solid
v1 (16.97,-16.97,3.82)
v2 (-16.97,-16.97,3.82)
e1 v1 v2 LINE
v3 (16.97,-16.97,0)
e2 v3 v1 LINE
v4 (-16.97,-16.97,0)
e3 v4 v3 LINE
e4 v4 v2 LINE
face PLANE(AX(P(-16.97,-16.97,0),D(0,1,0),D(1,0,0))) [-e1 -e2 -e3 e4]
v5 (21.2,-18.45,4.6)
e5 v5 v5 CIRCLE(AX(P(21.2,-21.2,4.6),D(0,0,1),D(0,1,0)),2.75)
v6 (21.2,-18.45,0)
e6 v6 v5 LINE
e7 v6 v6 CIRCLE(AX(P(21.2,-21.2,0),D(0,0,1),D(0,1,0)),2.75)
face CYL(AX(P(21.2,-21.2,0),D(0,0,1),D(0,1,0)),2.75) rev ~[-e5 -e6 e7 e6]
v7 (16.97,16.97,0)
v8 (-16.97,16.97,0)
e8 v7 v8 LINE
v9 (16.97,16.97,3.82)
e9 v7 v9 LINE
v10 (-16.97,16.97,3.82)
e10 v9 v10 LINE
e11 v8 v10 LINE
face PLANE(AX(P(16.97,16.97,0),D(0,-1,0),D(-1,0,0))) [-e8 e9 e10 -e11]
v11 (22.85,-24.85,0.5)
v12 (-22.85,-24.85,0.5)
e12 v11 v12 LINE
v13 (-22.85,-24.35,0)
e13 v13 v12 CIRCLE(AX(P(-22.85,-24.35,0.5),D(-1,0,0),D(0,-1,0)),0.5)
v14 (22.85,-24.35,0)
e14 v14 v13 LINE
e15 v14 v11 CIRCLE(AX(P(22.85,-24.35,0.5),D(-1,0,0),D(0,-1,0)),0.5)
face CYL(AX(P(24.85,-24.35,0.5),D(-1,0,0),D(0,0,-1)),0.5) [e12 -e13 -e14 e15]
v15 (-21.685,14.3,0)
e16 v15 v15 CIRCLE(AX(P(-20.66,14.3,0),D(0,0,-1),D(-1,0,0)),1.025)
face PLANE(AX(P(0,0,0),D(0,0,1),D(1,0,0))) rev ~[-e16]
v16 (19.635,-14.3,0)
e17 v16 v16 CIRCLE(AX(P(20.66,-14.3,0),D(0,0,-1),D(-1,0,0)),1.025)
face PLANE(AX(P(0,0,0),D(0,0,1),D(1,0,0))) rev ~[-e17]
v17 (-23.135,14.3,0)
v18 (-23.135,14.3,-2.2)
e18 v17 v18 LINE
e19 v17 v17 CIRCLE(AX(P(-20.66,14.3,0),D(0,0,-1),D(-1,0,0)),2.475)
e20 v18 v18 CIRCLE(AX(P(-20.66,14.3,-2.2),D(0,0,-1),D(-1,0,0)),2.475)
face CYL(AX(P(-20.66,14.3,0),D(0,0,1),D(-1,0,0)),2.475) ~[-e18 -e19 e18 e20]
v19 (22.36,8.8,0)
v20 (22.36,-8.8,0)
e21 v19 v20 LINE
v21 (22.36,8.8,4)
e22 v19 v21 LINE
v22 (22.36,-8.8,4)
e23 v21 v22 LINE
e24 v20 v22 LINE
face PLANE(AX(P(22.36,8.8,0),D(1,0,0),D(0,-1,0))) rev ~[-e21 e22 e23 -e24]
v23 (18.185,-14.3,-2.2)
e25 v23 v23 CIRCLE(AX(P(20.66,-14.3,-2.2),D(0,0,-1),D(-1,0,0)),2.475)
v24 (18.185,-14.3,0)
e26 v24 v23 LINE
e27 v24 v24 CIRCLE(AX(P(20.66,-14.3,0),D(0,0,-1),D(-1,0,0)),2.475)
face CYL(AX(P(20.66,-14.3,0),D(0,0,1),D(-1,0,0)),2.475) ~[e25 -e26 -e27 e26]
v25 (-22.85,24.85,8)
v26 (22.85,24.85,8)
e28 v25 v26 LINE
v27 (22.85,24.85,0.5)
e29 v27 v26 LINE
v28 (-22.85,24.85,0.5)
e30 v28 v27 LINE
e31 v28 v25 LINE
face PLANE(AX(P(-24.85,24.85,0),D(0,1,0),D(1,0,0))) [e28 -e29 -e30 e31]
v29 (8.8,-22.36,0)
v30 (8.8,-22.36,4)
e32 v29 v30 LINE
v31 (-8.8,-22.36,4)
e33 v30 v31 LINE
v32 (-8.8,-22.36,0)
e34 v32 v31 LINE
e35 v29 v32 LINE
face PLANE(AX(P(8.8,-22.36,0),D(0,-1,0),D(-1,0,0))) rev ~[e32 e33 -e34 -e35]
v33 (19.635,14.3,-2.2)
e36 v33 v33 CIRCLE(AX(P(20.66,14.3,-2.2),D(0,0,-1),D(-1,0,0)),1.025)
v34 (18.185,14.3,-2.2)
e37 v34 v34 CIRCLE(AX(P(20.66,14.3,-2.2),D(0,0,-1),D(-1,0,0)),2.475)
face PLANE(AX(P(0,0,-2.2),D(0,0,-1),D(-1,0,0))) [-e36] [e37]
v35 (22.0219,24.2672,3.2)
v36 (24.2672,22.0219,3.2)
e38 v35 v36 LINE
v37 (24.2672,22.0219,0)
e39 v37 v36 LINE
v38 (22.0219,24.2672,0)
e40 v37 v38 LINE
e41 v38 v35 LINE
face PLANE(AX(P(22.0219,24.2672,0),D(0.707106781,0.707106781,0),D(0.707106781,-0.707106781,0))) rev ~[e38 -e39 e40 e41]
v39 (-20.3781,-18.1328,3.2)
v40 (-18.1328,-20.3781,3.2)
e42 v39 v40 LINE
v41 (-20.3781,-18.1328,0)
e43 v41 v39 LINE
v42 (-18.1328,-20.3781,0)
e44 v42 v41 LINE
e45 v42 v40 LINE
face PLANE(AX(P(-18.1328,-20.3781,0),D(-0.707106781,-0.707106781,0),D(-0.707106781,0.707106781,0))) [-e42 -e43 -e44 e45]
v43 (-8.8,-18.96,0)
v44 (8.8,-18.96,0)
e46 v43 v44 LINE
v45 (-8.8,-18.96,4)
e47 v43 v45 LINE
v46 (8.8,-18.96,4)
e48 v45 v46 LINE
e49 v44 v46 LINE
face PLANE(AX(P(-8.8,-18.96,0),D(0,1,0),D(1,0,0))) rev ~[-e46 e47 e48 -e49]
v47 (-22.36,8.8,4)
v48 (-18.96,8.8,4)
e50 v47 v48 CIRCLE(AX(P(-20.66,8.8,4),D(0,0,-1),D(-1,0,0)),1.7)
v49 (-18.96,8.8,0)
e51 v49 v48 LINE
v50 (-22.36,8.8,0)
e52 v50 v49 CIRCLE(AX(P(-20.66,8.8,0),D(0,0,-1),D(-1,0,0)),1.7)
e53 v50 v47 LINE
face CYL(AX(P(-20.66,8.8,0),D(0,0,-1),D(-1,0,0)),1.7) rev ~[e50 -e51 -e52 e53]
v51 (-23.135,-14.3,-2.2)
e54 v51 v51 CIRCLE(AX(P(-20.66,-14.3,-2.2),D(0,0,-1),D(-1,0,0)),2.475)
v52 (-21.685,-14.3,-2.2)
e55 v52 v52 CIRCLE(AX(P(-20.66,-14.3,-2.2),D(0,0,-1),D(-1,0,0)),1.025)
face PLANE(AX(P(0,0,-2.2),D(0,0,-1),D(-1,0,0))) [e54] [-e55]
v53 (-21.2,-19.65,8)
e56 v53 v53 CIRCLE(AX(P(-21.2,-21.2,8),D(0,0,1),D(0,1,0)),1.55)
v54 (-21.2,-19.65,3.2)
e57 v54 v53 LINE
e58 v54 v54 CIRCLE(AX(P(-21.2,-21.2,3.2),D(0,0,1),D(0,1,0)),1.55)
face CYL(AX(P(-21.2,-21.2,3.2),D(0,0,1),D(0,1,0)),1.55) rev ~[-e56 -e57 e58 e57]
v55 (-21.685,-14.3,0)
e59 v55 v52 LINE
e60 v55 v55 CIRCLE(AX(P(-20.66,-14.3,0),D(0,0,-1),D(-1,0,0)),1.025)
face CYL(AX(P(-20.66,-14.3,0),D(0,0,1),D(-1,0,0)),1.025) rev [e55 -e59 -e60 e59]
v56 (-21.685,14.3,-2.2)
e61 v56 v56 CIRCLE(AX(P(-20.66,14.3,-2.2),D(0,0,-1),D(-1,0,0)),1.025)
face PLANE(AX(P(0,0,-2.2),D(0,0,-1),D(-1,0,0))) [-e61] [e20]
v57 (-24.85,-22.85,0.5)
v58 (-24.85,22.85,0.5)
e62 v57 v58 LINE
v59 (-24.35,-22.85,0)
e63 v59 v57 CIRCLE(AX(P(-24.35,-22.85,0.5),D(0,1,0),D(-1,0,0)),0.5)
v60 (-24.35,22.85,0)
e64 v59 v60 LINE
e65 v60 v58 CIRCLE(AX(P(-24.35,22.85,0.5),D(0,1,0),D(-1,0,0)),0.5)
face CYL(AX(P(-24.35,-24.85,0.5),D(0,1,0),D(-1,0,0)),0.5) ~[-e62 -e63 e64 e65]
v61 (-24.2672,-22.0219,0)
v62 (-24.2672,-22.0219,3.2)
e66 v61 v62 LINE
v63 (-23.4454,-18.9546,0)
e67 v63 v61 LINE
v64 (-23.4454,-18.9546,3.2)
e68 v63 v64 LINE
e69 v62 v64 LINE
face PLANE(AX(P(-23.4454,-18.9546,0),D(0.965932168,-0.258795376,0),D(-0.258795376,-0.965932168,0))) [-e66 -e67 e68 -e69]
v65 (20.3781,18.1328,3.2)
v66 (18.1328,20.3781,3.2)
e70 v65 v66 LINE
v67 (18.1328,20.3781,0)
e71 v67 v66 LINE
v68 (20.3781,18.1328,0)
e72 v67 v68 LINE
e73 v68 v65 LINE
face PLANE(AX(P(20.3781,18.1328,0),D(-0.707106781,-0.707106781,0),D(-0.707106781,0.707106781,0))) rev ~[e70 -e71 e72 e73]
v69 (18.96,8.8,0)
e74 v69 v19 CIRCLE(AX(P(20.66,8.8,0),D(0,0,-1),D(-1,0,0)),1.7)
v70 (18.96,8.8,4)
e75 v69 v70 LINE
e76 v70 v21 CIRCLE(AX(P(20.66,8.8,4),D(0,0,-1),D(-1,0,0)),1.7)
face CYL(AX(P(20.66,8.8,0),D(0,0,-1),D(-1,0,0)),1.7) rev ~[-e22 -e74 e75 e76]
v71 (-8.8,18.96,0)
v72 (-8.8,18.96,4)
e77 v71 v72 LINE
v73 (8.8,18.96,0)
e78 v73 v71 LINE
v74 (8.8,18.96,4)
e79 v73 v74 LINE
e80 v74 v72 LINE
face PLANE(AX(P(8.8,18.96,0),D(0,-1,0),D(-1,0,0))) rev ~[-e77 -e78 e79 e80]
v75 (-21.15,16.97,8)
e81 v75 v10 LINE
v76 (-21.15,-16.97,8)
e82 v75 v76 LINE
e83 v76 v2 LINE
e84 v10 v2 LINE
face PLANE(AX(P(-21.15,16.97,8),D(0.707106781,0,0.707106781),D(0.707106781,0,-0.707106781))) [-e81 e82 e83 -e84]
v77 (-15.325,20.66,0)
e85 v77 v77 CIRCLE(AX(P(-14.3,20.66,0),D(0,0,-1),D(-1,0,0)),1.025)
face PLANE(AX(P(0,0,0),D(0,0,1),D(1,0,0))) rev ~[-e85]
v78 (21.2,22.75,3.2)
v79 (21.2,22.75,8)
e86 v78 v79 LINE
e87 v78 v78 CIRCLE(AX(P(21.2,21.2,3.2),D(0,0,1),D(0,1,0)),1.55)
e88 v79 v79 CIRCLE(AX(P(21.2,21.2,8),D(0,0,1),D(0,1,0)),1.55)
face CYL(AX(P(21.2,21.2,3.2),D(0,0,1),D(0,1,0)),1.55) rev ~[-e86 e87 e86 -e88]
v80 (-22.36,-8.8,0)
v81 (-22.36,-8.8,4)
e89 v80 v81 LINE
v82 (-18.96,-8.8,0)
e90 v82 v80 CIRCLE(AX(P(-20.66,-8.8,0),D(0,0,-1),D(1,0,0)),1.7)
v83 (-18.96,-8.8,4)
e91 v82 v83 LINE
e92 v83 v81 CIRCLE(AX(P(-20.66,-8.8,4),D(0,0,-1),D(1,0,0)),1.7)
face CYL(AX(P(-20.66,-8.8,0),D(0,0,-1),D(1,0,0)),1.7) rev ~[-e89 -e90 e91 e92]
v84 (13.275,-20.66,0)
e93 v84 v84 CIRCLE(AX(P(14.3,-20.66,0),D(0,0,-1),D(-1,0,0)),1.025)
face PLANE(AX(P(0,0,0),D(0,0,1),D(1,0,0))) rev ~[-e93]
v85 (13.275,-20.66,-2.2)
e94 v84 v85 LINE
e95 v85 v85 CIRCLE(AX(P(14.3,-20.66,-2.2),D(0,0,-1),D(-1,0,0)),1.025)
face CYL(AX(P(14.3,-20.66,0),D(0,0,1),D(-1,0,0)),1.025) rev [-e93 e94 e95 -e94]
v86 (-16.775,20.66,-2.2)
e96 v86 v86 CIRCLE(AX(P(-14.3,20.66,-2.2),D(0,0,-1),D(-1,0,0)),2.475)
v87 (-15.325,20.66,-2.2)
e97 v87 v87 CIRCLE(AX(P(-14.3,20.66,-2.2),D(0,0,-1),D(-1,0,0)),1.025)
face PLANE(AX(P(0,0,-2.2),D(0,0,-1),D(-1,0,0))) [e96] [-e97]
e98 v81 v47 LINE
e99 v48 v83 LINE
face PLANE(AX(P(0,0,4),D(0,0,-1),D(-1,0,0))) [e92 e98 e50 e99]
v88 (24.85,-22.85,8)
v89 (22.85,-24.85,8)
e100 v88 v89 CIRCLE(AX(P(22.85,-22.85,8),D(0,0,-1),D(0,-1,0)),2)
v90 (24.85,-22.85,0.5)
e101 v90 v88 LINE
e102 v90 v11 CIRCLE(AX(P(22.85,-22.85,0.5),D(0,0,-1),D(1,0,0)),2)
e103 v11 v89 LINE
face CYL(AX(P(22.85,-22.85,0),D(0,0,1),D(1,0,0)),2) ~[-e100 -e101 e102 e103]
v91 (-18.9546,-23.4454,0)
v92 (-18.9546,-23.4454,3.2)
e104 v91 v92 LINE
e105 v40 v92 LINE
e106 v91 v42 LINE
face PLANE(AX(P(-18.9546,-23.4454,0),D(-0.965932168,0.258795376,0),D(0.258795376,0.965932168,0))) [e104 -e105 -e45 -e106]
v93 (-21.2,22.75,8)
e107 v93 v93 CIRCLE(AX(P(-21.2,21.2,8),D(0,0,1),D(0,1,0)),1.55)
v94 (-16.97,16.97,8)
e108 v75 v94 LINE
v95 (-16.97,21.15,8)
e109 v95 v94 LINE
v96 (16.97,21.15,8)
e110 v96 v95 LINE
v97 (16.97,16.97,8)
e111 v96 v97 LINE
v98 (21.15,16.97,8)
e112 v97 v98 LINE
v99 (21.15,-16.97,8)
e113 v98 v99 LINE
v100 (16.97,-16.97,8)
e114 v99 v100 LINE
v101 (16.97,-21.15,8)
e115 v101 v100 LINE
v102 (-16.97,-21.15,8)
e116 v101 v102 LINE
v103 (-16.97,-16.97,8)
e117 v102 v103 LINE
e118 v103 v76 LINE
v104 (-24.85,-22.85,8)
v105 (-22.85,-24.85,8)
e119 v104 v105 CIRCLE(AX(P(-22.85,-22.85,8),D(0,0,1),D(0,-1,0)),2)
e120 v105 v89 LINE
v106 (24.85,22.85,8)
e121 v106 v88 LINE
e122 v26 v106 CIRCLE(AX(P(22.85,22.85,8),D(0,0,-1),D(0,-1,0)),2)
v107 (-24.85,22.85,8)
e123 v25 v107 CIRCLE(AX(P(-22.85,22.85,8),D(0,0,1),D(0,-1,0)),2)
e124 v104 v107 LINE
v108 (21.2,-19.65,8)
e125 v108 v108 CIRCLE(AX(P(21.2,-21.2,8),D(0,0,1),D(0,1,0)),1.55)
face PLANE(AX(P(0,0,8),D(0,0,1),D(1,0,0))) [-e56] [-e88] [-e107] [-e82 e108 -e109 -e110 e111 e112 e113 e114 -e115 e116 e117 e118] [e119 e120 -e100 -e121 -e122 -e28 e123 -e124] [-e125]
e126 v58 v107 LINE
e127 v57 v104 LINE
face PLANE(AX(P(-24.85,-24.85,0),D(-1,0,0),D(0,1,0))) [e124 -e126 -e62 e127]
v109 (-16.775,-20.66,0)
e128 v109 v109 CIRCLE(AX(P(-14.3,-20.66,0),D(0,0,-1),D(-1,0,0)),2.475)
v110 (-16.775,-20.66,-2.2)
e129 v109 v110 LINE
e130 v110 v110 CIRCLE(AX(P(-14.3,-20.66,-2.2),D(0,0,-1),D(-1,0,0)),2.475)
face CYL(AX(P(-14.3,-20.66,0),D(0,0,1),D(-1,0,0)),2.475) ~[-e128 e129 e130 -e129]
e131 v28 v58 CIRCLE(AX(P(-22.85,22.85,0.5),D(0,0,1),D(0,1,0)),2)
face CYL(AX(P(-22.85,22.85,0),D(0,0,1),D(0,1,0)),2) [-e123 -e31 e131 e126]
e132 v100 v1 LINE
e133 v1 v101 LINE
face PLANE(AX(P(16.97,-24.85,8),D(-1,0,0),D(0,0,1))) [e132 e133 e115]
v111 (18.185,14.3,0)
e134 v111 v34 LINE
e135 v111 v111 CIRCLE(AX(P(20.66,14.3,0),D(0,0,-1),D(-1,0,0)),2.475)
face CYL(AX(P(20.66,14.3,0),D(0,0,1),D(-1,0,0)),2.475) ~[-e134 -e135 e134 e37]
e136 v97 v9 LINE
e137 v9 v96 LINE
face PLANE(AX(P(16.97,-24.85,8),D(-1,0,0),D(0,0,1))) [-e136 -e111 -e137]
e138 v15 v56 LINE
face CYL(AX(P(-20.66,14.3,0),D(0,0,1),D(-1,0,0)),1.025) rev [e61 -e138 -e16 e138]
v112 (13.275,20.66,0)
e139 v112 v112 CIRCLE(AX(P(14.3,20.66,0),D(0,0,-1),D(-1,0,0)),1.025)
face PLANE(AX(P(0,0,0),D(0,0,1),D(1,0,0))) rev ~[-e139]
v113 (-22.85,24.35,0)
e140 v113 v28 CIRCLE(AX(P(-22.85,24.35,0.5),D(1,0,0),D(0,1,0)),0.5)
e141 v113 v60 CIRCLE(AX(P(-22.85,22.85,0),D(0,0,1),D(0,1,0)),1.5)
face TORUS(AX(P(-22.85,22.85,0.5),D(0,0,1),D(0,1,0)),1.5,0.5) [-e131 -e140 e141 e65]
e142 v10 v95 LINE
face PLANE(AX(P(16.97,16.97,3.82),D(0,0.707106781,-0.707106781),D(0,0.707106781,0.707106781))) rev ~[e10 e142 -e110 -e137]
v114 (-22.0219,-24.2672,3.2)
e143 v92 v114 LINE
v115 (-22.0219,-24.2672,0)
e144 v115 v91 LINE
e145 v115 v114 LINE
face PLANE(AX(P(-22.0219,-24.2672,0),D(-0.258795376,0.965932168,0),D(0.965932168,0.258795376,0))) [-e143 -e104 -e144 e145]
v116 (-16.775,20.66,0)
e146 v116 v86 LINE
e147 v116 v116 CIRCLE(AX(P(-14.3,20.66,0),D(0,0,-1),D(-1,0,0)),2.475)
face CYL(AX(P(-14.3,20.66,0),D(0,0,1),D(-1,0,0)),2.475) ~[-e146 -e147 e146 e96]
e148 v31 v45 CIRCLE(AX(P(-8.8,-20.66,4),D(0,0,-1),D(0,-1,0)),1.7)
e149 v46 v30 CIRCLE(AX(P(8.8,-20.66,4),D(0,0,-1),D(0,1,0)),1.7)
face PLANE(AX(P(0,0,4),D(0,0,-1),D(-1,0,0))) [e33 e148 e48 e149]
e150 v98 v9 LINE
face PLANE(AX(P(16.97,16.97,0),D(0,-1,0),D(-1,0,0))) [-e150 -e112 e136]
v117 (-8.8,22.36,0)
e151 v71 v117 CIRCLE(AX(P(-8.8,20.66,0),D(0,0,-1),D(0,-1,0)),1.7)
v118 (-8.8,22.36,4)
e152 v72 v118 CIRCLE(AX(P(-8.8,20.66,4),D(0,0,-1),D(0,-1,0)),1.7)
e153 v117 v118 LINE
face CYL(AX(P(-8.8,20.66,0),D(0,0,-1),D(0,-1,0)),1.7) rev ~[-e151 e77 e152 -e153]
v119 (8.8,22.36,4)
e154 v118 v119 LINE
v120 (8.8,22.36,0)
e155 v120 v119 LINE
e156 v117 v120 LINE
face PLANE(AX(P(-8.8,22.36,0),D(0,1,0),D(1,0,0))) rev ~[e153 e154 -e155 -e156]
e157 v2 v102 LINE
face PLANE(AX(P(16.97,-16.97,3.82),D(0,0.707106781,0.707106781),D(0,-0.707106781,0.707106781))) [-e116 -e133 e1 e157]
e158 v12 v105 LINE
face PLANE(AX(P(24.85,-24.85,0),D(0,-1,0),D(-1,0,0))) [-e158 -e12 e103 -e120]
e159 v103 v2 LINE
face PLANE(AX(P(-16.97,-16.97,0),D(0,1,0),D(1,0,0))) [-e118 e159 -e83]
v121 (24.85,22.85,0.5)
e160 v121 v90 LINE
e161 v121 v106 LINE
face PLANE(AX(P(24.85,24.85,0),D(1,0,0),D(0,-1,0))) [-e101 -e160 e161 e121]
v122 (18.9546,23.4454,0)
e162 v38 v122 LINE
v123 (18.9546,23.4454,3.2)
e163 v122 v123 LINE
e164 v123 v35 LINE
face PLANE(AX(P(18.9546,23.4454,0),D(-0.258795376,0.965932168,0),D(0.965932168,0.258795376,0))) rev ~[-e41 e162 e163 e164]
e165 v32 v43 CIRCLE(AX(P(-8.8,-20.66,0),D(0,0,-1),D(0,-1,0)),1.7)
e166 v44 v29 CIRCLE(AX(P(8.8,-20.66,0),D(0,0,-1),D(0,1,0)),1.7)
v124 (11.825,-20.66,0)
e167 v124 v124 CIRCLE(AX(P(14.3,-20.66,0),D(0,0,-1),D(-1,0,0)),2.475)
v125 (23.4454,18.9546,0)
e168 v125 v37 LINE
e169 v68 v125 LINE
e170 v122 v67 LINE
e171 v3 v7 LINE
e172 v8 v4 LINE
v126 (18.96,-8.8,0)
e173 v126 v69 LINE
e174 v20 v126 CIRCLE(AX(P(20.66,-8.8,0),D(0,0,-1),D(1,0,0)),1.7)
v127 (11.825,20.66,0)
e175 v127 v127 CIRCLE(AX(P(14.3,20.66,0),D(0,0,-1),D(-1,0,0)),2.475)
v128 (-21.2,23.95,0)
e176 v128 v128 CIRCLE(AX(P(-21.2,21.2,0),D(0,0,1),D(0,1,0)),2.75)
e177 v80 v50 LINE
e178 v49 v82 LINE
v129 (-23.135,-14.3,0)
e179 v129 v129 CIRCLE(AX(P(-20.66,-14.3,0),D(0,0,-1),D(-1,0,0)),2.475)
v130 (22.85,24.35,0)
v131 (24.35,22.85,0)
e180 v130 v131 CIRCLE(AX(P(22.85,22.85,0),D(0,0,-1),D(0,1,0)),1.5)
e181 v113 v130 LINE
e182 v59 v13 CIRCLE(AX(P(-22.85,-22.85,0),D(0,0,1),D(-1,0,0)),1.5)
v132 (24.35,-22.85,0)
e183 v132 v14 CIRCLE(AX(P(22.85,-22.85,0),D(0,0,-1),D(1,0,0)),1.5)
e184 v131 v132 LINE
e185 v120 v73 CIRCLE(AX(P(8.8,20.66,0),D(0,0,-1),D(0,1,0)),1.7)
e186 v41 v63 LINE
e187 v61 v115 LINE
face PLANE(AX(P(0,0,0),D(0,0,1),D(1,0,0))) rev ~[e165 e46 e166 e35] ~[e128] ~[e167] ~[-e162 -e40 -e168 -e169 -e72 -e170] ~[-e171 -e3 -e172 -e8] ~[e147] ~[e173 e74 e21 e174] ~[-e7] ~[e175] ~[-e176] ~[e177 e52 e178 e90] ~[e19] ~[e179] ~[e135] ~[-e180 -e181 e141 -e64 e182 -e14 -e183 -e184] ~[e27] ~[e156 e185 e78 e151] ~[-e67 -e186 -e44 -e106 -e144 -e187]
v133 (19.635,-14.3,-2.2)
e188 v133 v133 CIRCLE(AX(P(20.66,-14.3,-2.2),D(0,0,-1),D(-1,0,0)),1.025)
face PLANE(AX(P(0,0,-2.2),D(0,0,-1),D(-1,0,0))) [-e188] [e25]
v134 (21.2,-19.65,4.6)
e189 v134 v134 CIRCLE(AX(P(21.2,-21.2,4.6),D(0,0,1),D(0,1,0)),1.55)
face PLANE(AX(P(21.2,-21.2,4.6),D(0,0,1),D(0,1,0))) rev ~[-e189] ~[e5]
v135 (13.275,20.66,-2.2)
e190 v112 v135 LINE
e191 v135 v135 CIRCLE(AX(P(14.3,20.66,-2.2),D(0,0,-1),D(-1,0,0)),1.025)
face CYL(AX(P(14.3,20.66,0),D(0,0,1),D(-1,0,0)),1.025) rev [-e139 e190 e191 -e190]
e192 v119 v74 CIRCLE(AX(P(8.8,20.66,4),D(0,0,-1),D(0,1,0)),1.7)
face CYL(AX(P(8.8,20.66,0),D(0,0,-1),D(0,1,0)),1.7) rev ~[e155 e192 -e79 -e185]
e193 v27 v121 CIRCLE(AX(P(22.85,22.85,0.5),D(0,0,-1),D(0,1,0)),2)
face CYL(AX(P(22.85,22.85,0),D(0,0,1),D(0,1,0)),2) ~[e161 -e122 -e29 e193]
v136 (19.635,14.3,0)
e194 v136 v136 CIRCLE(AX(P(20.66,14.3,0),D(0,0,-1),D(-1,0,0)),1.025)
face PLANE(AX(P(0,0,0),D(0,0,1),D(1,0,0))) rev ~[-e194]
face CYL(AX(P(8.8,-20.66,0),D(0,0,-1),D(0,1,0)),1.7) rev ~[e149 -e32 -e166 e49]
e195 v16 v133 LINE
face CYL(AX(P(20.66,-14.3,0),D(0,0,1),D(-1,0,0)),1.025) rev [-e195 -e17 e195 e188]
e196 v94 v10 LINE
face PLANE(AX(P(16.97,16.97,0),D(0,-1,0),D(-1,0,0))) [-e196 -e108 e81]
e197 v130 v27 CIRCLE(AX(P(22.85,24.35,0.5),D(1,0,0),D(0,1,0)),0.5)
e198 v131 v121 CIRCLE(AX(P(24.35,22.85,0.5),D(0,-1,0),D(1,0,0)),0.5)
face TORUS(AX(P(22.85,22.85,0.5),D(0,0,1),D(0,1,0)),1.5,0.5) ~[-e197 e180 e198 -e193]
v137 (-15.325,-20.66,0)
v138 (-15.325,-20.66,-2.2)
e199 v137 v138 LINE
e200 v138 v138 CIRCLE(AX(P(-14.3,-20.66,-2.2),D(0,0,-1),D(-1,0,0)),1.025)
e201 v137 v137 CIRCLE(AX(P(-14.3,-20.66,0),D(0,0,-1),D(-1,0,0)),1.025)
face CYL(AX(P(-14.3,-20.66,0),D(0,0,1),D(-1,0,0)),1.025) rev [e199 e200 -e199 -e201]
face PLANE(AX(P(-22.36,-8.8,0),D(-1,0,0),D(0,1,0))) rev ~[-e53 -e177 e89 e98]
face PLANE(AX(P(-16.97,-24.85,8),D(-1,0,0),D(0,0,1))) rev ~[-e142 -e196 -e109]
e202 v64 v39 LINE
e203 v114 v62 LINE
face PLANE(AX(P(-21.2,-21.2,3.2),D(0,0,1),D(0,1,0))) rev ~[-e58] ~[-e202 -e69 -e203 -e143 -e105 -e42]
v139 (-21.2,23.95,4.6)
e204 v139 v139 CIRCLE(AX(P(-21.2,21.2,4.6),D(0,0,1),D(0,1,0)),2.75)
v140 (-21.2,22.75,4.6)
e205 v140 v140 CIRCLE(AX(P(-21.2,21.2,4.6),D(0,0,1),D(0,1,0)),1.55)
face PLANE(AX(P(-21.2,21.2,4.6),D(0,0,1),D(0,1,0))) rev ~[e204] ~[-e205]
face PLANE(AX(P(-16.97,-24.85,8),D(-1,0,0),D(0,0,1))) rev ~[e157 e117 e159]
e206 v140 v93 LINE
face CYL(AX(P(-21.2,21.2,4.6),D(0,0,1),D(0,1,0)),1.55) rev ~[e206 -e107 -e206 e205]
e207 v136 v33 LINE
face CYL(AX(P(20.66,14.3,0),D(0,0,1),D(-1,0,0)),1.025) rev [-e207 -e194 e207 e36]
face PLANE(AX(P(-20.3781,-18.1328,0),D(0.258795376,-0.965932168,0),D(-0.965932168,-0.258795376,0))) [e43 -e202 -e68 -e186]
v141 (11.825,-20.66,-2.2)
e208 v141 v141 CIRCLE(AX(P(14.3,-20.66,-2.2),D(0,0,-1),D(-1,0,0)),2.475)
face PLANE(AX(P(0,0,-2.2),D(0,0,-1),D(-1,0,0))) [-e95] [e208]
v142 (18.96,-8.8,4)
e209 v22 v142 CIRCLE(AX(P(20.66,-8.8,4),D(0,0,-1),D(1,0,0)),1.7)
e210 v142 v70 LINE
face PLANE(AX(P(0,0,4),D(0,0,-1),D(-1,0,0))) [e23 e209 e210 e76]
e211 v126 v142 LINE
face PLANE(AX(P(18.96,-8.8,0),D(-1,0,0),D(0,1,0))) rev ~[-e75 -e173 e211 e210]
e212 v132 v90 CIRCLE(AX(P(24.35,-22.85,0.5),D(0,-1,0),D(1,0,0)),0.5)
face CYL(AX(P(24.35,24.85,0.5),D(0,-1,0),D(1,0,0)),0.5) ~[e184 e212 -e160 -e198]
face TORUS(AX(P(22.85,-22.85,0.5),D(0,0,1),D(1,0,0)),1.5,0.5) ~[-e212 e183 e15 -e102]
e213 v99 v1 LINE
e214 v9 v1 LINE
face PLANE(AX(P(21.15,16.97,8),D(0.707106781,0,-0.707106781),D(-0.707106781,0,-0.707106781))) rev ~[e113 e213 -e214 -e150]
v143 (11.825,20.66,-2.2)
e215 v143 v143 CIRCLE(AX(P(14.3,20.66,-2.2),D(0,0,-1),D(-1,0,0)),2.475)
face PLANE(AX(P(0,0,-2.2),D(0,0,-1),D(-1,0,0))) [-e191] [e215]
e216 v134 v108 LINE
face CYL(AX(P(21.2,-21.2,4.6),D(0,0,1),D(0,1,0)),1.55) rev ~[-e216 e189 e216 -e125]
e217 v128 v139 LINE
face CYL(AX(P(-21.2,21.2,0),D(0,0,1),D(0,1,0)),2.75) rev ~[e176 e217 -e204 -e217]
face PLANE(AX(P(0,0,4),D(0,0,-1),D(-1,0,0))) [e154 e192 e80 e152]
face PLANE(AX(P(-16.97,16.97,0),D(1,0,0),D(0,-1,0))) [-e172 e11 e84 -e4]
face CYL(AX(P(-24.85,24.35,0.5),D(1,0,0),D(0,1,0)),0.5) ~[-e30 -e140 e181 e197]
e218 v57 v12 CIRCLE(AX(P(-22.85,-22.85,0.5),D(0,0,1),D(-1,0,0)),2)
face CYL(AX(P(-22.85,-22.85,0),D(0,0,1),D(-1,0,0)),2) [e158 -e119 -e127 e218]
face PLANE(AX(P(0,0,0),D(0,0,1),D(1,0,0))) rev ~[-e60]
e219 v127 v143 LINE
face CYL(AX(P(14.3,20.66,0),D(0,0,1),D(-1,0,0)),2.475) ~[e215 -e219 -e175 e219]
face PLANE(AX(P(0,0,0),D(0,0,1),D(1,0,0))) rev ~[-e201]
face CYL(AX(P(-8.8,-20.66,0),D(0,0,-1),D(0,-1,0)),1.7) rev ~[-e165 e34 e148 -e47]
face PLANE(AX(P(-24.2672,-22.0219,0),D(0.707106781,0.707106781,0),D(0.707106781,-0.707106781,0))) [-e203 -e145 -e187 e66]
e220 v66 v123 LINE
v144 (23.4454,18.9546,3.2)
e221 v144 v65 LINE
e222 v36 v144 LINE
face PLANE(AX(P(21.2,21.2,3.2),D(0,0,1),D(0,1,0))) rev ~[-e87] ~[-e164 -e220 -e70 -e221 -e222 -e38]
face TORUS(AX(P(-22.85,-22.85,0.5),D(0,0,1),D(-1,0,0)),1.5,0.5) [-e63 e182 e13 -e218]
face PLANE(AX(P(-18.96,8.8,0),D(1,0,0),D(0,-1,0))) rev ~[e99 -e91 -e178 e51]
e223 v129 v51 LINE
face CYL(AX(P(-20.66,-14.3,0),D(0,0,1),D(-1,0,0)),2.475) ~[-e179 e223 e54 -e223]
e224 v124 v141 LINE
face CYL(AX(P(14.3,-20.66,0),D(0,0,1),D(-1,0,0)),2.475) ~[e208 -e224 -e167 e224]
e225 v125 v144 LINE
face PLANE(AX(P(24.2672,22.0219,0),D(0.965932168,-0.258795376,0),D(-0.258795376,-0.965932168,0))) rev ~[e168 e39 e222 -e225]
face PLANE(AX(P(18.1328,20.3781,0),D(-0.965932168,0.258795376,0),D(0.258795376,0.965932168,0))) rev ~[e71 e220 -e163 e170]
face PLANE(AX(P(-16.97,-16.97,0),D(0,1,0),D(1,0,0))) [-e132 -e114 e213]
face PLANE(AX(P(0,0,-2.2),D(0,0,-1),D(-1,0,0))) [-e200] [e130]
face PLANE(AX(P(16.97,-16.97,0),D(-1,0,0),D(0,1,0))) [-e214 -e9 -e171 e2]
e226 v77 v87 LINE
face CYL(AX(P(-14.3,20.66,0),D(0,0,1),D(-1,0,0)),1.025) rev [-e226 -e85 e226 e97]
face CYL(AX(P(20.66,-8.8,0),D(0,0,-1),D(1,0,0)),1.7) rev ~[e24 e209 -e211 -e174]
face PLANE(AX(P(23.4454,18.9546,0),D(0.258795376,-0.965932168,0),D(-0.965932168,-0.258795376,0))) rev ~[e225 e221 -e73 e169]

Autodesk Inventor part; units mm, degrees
sketch "Sketch1" plane through (0, 0, 0) normal (0, 0, 1) x (1, 0, 0)
  line L0 (-24.85, 24.85) -> (24.85, 24.85)
  line L1 (24.85, 24.85) -> (24.85, -24.85)
  line L2 (24.85, -24.85) -> (-24.85, -24.85)
  line L3 (-24.85, -24.85) -> (-24.85, 24.85)
  line L4 (-24.85, 24.85) -> (24.85, -24.85) construction
  line L5 (24.85, 24.85) -> (-24.85, -24.85) construction
  line L6 (16.97, 16.97) -> (-16.97, 16.97)
  line L7 (-16.97, 16.97) -> (-16.97, -16.97)
  line L8 (-16.97, -16.97) -> (16.97, -16.97)
  line L9 (16.97, -16.97) -> (16.97, 16.97)
  point P0 (0, 0)
  dimension "d0" = 49.7
  dimension "d1" = 49.7
  dimension "d2" = 7.88
extrude "Extrusion1" add sketch "Sketch1" along normal blind 8
sketch "Sketch3" plane through (0, 0, 0) normal (0, 0, -1) x (-1, 0, 0)
  line L0 (24.85, -24.85) -> (24.85, 24.85) construction
  line L1 (24.85, 24.85) -> (-24.85, 24.85) construction
  line L2 (-24.85, -24.85) -> (24.85, -24.85) construction
  line L3 (-24.85, 24.85) -> (-24.85, -24.85) construction
  point P0 (21.2, 21.2)
  point P1 (21.2, -21.2)
  point P2 (-21.2, -21.2)
  point P3 (-21.2, 21.2)
  dimension "d_1" = 3.65
  dimension "d96" = 3.65
  dimension "d97" = 3.65
  dimension "d98" = 3.65
  dimension "d99" = 3.65
  dimension "d100" = 3.65
  dimension "d101" = 3.65
  dimension "d102" = 3.65
hole "Hole1" at (-21.2, 21.2, 0) at (21.2, -21.2, 0) direction (0, 0, 1) diameter 3.1 depth 16 tip angle 118 counterbore diameter 5.5 counterbore depth 4.6
sketch "Sketch4" plane through (-24.85, 24.85, 0) normal (0, 1, 0) x (1, 0, 0)
  line L0 (0, 0) -> (49.7, 0) construction
  line L1 (0, 0) -> (0, -8) construction
  line L2 (49.7, -8) -> (0, -8) construction
  line L3 (49.7, 0) -> (49.7, -8) construction
  circle A0 centre (24.85, -24.97) radius 16.97 construction
  point P0 (24.85, 0)
sketch "Sketch5" plane through (0, 0, 0) normal (0, 0, -1) x (-1, 0, 0)
  line L0 (-16.97, -16.97) -> (-16.97, 16.97) construction
  line L1 (-16.97, 16.97) -> (16.97, 16.97) construction
  line L2 (16.97, 16.97) -> (16.97, -16.97) construction
  line L3 (16.97, -16.97) -> (-16.97, -16.97) construction
  circle A0 centre (0, 0) radius 16.97 construction
  point P0 (0, 0)
fillet "Fillet1" [suppressed]
ref_plane "Arbeitsebene9" through (0, 0, 42.1) normal (0, 0, 1) x (1, 0, 0)
sketch "Sketch6" plane through (0, 0, 42.1) normal (0, 0, 1) x (1, 0, 0)
  line L0 (-24.85, 24.85) -> (-24.85, 16.97) projected
  line L1 (-24.85, 16.97) -> (-16.97, 16.97) projected
  line L2 (-16.97, 16.97) -> (-16.97, 24.85) projected
  line L3 (-16.97, 24.85) -> (-24.85, 24.85) projected
  line L4 (24.85, 24.85) -> (16.97, 24.85) projected
  line L5 (16.97, 24.85) -> (16.97, 16.97) projected
  line L6 (16.97, 16.97) -> (24.85, 16.97) projected
  line L7 (24.85, 16.97) -> (24.85, 24.85) projected
  line L8 (24.85, -24.85) -> (24.85, -16.97) projected
  line L9 (24.85, -16.97) -> (16.97, -16.97) projected
  line L10 (16.97, -16.97) -> (16.97, -24.85) projected
  line L11 (16.97, -24.85) -> (24.85, -24.85) projected
  line L12 (-24.85, -24.85) -> (-16.97, -24.85) projected
  line L13 (-16.97, -24.85) -> (-16.97, -16.97) projected
  line L14 (-16.97, -16.97) -> (-24.85, -16.97) projected
  line L15 (-24.85, -16.97) -> (-24.85, -24.85) projected
  line L16 (0, 38.1838) -> (54, 38.1838) construction
  line L17 (20.75, 16.97) -> (16.97, 20.75)
  line L18 (16.97, 24.85) -> (16.97, 16.97) projected
  line L19 (16.97, 20.75) -> (16.97, 16.97)
  line L20 (16.97, 16.97) -> (20.75, 16.97)
  line L21 (-16.97, 24.85) -> (-16.97, 16.97) projected
  line L22 (-16.97, 16.97) -> (-16.97, 20.75)
  line L23 (-16.97, 20.75) -> (-20.75, 16.97)
  line L24 (-16.97, 20.75) -> (-11.6243, 20.75) construction
  line L25 (-16.97, -16.97) -> (-16.97, 16.97) projected
  line L26 (-20.75, 16.97) -> (-16.97, 16.97)
  line L27 (-16.97, 16.97) -> (-20.75, 16.97)
  line L28 (16.97, -16.97) -> (16.97, -24.85) projected
  line L29 (16.97, -16.97) -> (20.75, -16.97)
  line L30 (24.85, -16.97) -> (16.97, -16.97) projected
  line L31 (20.75, -16.97) -> (16.97, -20.75)
  line L32 (16.97, -16.97) -> (16.97, -20.75)
  line L33 (-16.97, -16.97) -> (-20.75, -16.97)
  line L34 (-16.97, -16.97) -> (-16.97, -24.85) projected
  line L35 (-16.97, -16.97) -> (-16.97, -20.75)
  line L36 (-20.75, -16.97) -> (-16.97, -20.75)
  dimension "d105" = 3.78
  dimension "d106" = 3.78
  dimension "d107" = 3.78
  dimension "d109" = 3.78
  dimension "d110" = 3.78
  dimension "d175" = 3.78
  dimension "d176" = 3.78
extrude "Extrusion3" cut sketch "Sketch6" against normal up to surface (34.1 mm away) contours L13 L36 L14 | L23 L2 L1 | L17 L6 L5 | L31 L10 L9
ref_plane "Arbeitsebene10" through (-24.85, 16.97, 8) normal (0, -1, 0) x (1, 0, 0)
sketch "Sketch7" plane through (-24.85, 16.97, 8) normal (0, -1, 0) x (1, 0, 0)
  line L0 (41.82, 0) -> (49.82, 0) construction
  line L1 (41.82, -8) -> (41.82, 0) construction
  line L2 (7.88, -8) -> (7.88, 0) construction
  line L3 (-0.12, 0) -> (7.88, 0) construction
  line L4 (41.7793, 33.8563) -> (41.82, 0) construction
  line L5 (7.88, 0) -> (8.0247, 34.1328) construction
  line L6 (41.82, 0) -> (7.88, 0) construction
  circle A0 centre (24.8758, 16.9239) radius 16.9239 construction
  line L7 (24.8281, 54.9707) -> (-13.171, 16.8672) construction
  line L8 (24.9234, -21.123) -> (62.9226, 16.9805) construction
  line L9 (62.9226, 16.9805) -> (24.8281, 54.9707) construction
  line L10 (24.8281, 54.9707) -> (24.9234, -21.123) construction
  line L11 (-13.171, 16.8672) -> (62.9226, 16.9805) construction
  line L12 (24.8281, 54.9707) -> (78.6409, 54.9707) construction
  line L13 (46, 0) -> (41.82, 0)
  line L14 (46, 0) -> (41.82, -4.18)
  line L15 (41.82, 0) -> (41.7793, 33.8563)
  line L16 (41.82, 0) -> (41.82, -4.18)
  line L17 (46, 0) -> (41.82, 0)
  line L18 (41.82, 0) -> (46, 0)
  line L19 (7.88, 0) -> (3.7, 0)
  line L20 (3.7, 0) -> (7.88, -4.18)
  line L21 (7.88, -4.18) -> (7.88, 0)
  point P0 (44.386, 0)
  point P1 (43.5978, 0)
  dimension "d39" = 53.8
  dimension "d177" = 4.18
  dimension "d178" = 4.18
  dimension "d179" = 4.18
  dimension "d180" = 4.18
extrude "Extrusion4" cut sketch "Sketch7" along normal up to surface (33.94 mm away)
ref_plane "Arbeitsebene11" through (16.97, -24.85, 8) normal (-1, 0, 0) x (0, 0, 1)
sketch "Sketch8" plane through (16.97, -24.85, 8) normal (-1, 0, 0) x (0, 0, 1)
  line L0 (-4.18, 41.82) -> (0, 41.82) construction
  line L1 (-4.18, 7.88) -> (0, 7.88) construction
  line L2 (0, 7.88) -> (0, 3.7) construction
  line L3 (-4.18, 7.88) -> (0, 3.7)
  line L4 (0, 3.7) -> (0, 7.88)
  line L5 (0, 7.88) -> (-4.18, 7.88)
  line L6 (-4.18, 41.82) -> (0, 46)
  line L7 (-4.18, 41.82) -> (1.7314, 41.82) construction
  line L8 (0, 7.88) -> (0, 41.82)
  line L9 (0, 46) -> (0, 41.82)
  line L10 (0, 41.82) -> (-4.18, 41.82)
  line L11 (-5.9742, 2.0864) -> (-5.9742, 47.2133)
  line L12 (-8, 49.7) -> (-8, 0) construction
  line L13 (-8, 49.7) -> (0, 49.7) construction
  line L14 (0, 0) -> (0, 49.7) construction
  line L15 (-8, 0) -> (0, 0) construction
  line L16 (0, 49.7) -> (0, 45.6) construction
  line L17 (0, 49.7) -> (0, 0) projected
  line L18 (0, 0) -> (0, 49.7) projected
  line L19 (0, 41.82) -> (0, 7.88) projected
  line L20 (0, 7.88) -> (0, 41.82) projected
  point P0 (-2.4607, 7.9982)
  point P1 (-0.0623, 5.4502)
  dimension "d112" = 45
  dimension "d181" = 4.18
  dimension "d182" = 4.18
  dimension "d183" = 4.18
ref_plane "Work Plane1" through (-20.32, -18.034, 19.8181) normal (-1, 0, 0) x (0, 0, 1)
extrude "Extrusion5" cut sketch "Sketch8" along normal up to surface (33.94 mm away)
ref_plane "Arbeitsebene8" through (0, 0, 42.1) normal (0, 0, 1) x (1, 0, 0)
sketch "Sketch9" plane through (0, 0, 42.1) normal (0, 0, 1) x (1, 0, 0)
  circle A0 centre (20.95, 20.95) radius 1.55 projected
  circle A1 centre (21.2, -21.2) radius 1.55 projected
  circle A2 centre (-20.95, -20.95) radius 1.55 projected
  circle A3 centre (-21.2, 21.2) radius 1.55 projected
  point P0 (18.6978, 19.486)
  point P1 (19.486, 18.6978)
  point P2 (19.486, -18.6978)
  point P3 (18.6978, -19.486)
  point P4 (-18.6978, -19.486)
  point P5 (-19.486, -18.6978)
  point P6 (-19.486, 18.6978)
  point P7 (-18.6978, 19.486)
hole "Hole2" at (20.95, 20.95, 42.1) at (-21.2, 21.2, 42.1) at (21.2, -21.2, 42.1) at (-20.95, -20.95, 42.1) direction (0, 0, -1) diameter 2.8 depth 12 tip angle 118
ref_plane "Arbeitsebene12" through (0, 0, 42.1) normal (0, 0, 1) x (1, 0, 0)
sketch "Sketch16" plane through (0, 0, 42.1) normal (0, 0, 1) x (1, 0, 0)
  circle A0 centre (-20.95, -20.95) radius 1.4 projected
  line L0 (-16.97, -20.75) -> (-20.75, -16.97) projected
  line L1 (-20.75, -16.97) -> (-24.85, -16.97) projected
  line L2 (-24.85, -16.97) -> (-24.85, -24.85) projected
  line L3 (-24.85, -24.85) -> (-16.97, -24.85) projected
  line L4 (-16.97, -24.85) -> (-16.97, -20.75) projected
  circle A1 centre (20.95, 20.95) radius 1.4 projected
  line L5 (16.97, 20.75) -> (20.75, 16.97) projected
  line L6 (20.75, 16.97) -> (24.85, 16.97) projected
  line L7 (24.85, 16.97) -> (24.85, 24.85) projected
  line L8 (24.85, 24.85) -> (16.97, 24.85) projected
  line L9 (16.97, 24.85) -> (16.97, 20.75) projected
  point P0 (0, 0)
extrude "Extrusion6" cut sketch "Sketch16" against normal up to surface (34.1 mm away) contours A0 | L4 L3 L2 L1 L0 | A1 | L9 L8 L7 L6 L5
ref_plane "Arbeitsebene13" through (0, 0, 42.1) normal (0, 0, 1) x (1, 0, 0)
fillet "Fillet2" radius 2 4 edges at (24.85, -24.85, 4) (24.85, 24.85, 4) (-24.85, 24.85, 4) (-24.85, -24.85, 4)
fillet "Fillet2" radius 0.5 4 edges at (0, 24.85, 0) (24.85, 0, 0) (-24.85, 0, 0) (0, -24.85, 0)
sketch "Sketch19" plane through (0, 0, 0) normal (0, 0, -1) x (-1, 0, 0)
  line L0 (16.97, 21.15) -> (-16.97, 21.15) construction
  line L1 (-16.97, -16.97) -> (-16.97, 16.97) construction
  line L2 (-16.97, 16.97) -> (16.97, 16.97) construction
  line L3 (16.97, 16.97) -> (16.97, -16.97) construction
  line L4 (16.97, -16.97) -> (-16.97, -16.97) construction
  circle A0 centre (21.2, 21.2) radius 2.75 construction
  circle A1 centre (-21.2, -21.2) radius 2.75 construction
  arc A2 (-24.35, -22.85) -> (-22.85, -24.35) centre (-22.85, -22.85) ccw construction
  line L5 (22.85, -24.35) -> (-22.85, -24.35) construction
  arc A3 (22.85, -24.35) -> (24.35, -22.85) centre (22.85, -22.85) ccw construction
  line L6 (24.35, 22.85) -> (24.35, -22.85) construction
  arc A4 (24.35, 22.85) -> (22.85, 24.35) centre (22.85, 22.85) ccw construction
  line L7 (-22.85, 24.35) -> (22.85, 24.35) construction
  arc A5 (-22.85, 24.35) -> (-24.35, 22.85) centre (-22.85, 22.85) ccw construction
  line L8 (-24.35, -22.85) -> (-24.35, 22.85) construction
  line L9 (-11.5874, 0) -> (13.4878, 0) construction
  line L10 (0, 12.1668) -> (0, -14.2062) construction
  line L11 (8.8, 20.66) -> (-8.8, 20.66) construction
  line L12 (8.8, 22.36) -> (-8.8, 22.36)
  line L13 (-8.8, 18.96) -> (8.8, 18.96)
  arc A6 (8.8, 18.96) -> (8.8, 22.36) centre (8.8, 20.66) ccw
  arc A7 (-8.8, 22.36) -> (-8.8, 18.96) centre (-8.8, 20.66) ccw
  line L14 (-18.96, -8.8) -> (-18.96, 8.8)
  line L15 (-20.66, 8.8) -> (-20.66, -8.8) construction
  line L16 (-22.36, 8.8) -> (-22.36, -8.8)
  arc A8 (-18.96, 8.8) -> (-22.36, 8.8) centre (-20.66, 8.8) ccw
  arc A9 (-22.36, -8.8) -> (-18.96, -8.8) centre (-20.66, -8.8) ccw
  line L17 (8.8, -18.96) -> (-8.8, -18.96)
  line L18 (-8.8, -20.66) -> (8.8, -20.66) construction
  line L19 (-8.8, -22.36) -> (8.8, -22.36)
  arc A10 (-8.8, -18.96) -> (-8.8, -22.36) centre (-8.8, -20.66) ccw
  arc A11 (8.8, -22.36) -> (8.8, -18.96) centre (8.8, -20.66) ccw
  line L20 (18.96, 8.8) -> (18.96, -8.8)
  line L21 (20.66, -8.8) -> (20.66, 8.8) construction
  line L22 (22.36, -8.8) -> (22.36, 8.8)
  arc A12 (18.96, -8.8) -> (22.36, -8.8) centre (20.66, -8.8) ccw
  arc A13 (22.36, 8.8) -> (18.96, 8.8) centre (20.66, 8.8) ccw
  point P0 (0, 0)
  point P1 (0, 0)
  point P2 (0, 20.66)
  point P3 (-20.66, 0)
  point P4 (0, -20.66)
  point P5 (20.66, 0)
  dimension "d134" = 3.4
  dimension "d135" = 21
  dimension "d136" = 7.38
  dimension "d137" = 3.69
  dimension "d140" = 360
extrude "Extrusion9" cut sketch "Sketch19" against normal blind 4
sketch "Sketch20" plane through (0, 0, 0) normal (0, 0, -1) x (-1, 0, 0)
  arc A0 (-8.8, -18.96) -> (-8.8, -22.36) centre (-8.8, -20.66) ccw construction
  line L0 (-8.8, -18.96) -> (8.8, -18.96) construction
  arc A1 (8.8, -22.36) -> (8.8, -18.96) centre (8.8, -20.66) ccw construction
  line L1 (8.8, -22.36) -> (-8.8, -22.36) construction
  arc A2 (-8.8, 22.36) -> (-8.8, 18.96) centre (-8.8, 20.66) ccw construction
  line L2 (-8.8, 22.36) -> (8.8, 22.36) construction
  arc A3 (8.8, 18.96) -> (8.8, 22.36) centre (8.8, 20.66) ccw construction
  line L3 (8.8, 18.96) -> (-8.8, 18.96) construction
  arc A4 (-18.96, 8.8) -> (-22.36, 8.8) centre (-20.66, 8.8) ccw construction
  line L4 (-18.96, 8.8) -> (-18.96, -8.8) construction
  arc A5 (-22.36, -8.8) -> (-18.96, -8.8) centre (-20.66, -8.8) ccw construction
  line L5 (-22.36, -8.8) -> (-22.36, 8.8) construction
  arc A6 (18.96, -8.8) -> (22.36, -8.8) centre (20.66, -8.8) ccw construction
  line L6 (18.96, -8.8) -> (18.96, 8.8) construction
  arc A7 (22.36, 8.8) -> (18.96, 8.8) centre (20.66, 8.8) ccw construction
  line L7 (22.36, 8.8) -> (22.36, -8.8) construction
  line L8 (-16.97, -16.97) -> (-16.97, 16.97) construction
  line L9 (-16.97, 16.97) -> (16.97, 16.97) construction
  line L10 (16.97, 16.97) -> (16.97, -16.97) construction
  line L11 (16.97, -16.97) -> (-16.97, -16.97) construction
  circle A8 centre (21.2, 21.2) radius 2.75 construction
  circle A9 centre (-21.2, -21.2) radius 2.75 construction
  arc A10 (-24.35, -22.85) -> (-22.85, -24.35) centre (-22.85, -22.85) ccw construction
  line L12 (22.85, -24.35) -> (-22.85, -24.35) construction
  arc A11 (22.85, -24.35) -> (24.35, -22.85) centre (22.85, -22.85) ccw construction
  line L13 (24.35, 22.85) -> (24.35, -22.85) construction
  arc A12 (24.35, 22.85) -> (22.85, 24.35) centre (22.85, 22.85) ccw construction
  line L14 (-22.85, 24.35) -> (22.85, 24.35) construction
  arc A13 (-22.85, 24.35) -> (-24.35, 22.85) centre (-22.85, 22.85) ccw construction
  line L15 (-24.35, -22.85) -> (-24.35, 22.85) construction
  circle A14 centre (-14.3, 20.66) radius 2.475
  circle A15 centre (-14.3, 20.66) radius 1.025
  line L16 (8.8, 20.66) -> (-17.1249, 20.66) construction
  line L17 (0, -34.79) -> (0, 34.79) construction
  circle A16 centre (14.3, 20.66) radius 2.475
  circle A17 centre (14.3, 20.66) radius 1.025
  circle A18 centre (-20.66, -14.3) radius 1.025
  circle A19 centre (-20.66, -14.3) radius 2.475
  circle A20 centre (-20.66, 14.3) radius 1.025
  circle A21 centre (-20.66, 14.3) radius 2.475
  circle A22 centre (14.3, -20.66) radius 1.025
  circle A23 centre (14.3, -20.66) radius 2.475
  circle A24 centre (-14.3, -20.66) radius 1.025
  circle A25 centre (-14.3, -20.66) radius 2.475
  circle A26 centre (20.66, 14.3) radius 1.025
  circle A27 centre (20.66, 14.3) radius 2.475
  circle A28 centre (20.66, -14.3) radius 1.025
  circle A29 centre (20.66, -14.3) radius 2.475
  point P0 (0, 0)
  point P1 (17.1249, 20.66)
  point P2 (-20.66, -17.1249)
  point P3 (-20.66, 17.1249)
  point P4 (17.1249, -20.66)
  point P5 (-17.1249, -20.66)
  point P6 (20.66, 17.1249)
  point P7 (20.66, -17.1249)
  dimension "d144" = 4.95
  dimension "d145" = 2.05
  dimension "d146" = 5.5
  dimension "d149" = 360
extrude "Extrusion10" add sketch "Sketch20" along normal blind 2.2
ref_plane "Work Plane2" through (0, -16.97, 42.1) normal (1, 0, 0) x (0, 0, -1)
ref_plane "Work Plane3" through (-16.97, 0, 42.1) normal (0, 1, 0) x (1, 0, 0)
sketch "Sketch21" plane through (0, 0, 0) normal (0, 0, -1) x (-1, 0, 0)
  circle A0 centre (20.66, 14.3) radius 2.475 construction
  circle A1 centre (14.3, -20.66) radius 2.475 construction
  circle A2 centre (-20.66, -14.3) radius 2.475 construction
  circle A3 centre (-14.3, 20.66) radius 2.475 construction
  circle A4 centre (14.3, 20.66) radius 2.475 construction
  circle A5 centre (-20.66, 14.3) radius 2.475 construction
  circle A6 centre (-14.3, -20.66) radius 2.475 construction
  circle A7 centre (20.66, -14.3) radius 2.475 construction
  arc A8 (-8.8, -18.96) -> (-8.8, -22.36) centre (-8.8, -20.66) ccw construction
  line L0 (-8.8, -18.96) -> (8.8, -18.96) construction
  arc A9 (8.8, -22.36) -> (8.8, -18.96) centre (8.8, -20.66) ccw construction
  line L1 (8.8, -22.36) -> (-8.8, -22.36) construction
  arc A10 (-8.8, 22.36) -> (-8.8, 18.96) centre (-8.8, 20.66) ccw construction
  line L2 (-8.8, 22.36) -> (8.8, 22.36) construction
  arc A11 (8.8, 18.96) -> (8.8, 22.36) centre (8.8, 20.66) ccw construction
  line L3 (8.8, 18.96) -> (-8.8, 18.96) construction
  arc A12 (-18.96, 8.8) -> (-22.36, 8.8) centre (-20.66, 8.8) ccw construction
  line L4 (-18.96, 8.8) -> (-18.96, -8.8) construction
  arc A13 (-22.36, -8.8) -> (-18.96, -8.8) centre (-20.66, -8.8) ccw construction
  line L5 (-22.36, -8.8) -> (-22.36, 8.8) construction
  arc A14 (18.96, -8.8) -> (22.36, -8.8) centre (20.66, -8.8) ccw construction
  line L6 (18.96, -8.8) -> (18.96, 8.8) construction
  arc A15 (22.36, 8.8) -> (18.96, 8.8) centre (20.66, 8.8) ccw construction
  line L7 (22.36, 8.8) -> (22.36, -8.8) construction
  line L8 (-16.97, -16.97) -> (-16.97, 16.97) construction
  line L9 (-16.97, 16.97) -> (16.97, 16.97) construction
  line L10 (16.97, 16.97) -> (16.97, -16.97) construction
  line L11 (16.97, -16.97) -> (-16.97, -16.97) construction
  circle A16 centre (-21.2, -21.2) radius 2.75 construction
  circle A17 centre (21.2, 21.2) radius 2.75 construction
  arc A18 (-24.35, -22.85) -> (-22.85, -24.35) centre (-22.85, -22.85) ccw construction
  line L12 (22.85, -24.35) -> (-22.85, -24.35) construction
  arc A19 (22.85, -24.35) -> (24.35, -22.85) centre (22.85, -22.85) ccw construction
  line L13 (24.35, 22.85) -> (24.35, -22.85) construction
  arc A20 (24.35, 22.85) -> (22.85, 24.35) centre (22.85, 22.85) ccw construction
  line L14 (-22.85, 24.35) -> (22.85, 24.35) construction
  arc A21 (-22.85, 24.35) -> (-24.35, 22.85) centre (-22.85, 22.85) ccw construction
  line L15 (-24.35, -22.85) -> (-24.35, 22.85) construction
  circle A22 centre (-21.2, -21.2) radius 1.55 construction
  line L16 (21.2, 21.2) -> (-21.2, 21.2) construction
  line L17 (-21.2, 21.2) -> (-21.2, -21.2) construction
  line L18 (-21.2, -21.2) -> (21.2, -21.2) construction
  line L19 (21.2, -21.2) -> (21.2, 21.2) construction
  point P0 (0, 0)
hole "Hole9" at (-21.2, -21.2, 0) at (21.2, 21.2, 0) direction (0, 0, 1) diameter 3.1 depth 16 tip angle 118 counterbore diameter 5.5 counterbore depth 3.2
sketch "Sketch22" plane through (0, 0, 0) normal (0, 0, -1) x (-1, 0, 0)
  circle A0 centre (21.2, -21.2) radius 2.75 construction
  circle A1 centre (-21.2, 21.2) radius 2.75 construction
  circle A2 centre (20.66, 14.3) radius 2.475 construction
  circle A3 centre (14.3, -20.66) radius 2.475 construction
  circle A4 centre (-20.66, -14.3) radius 2.475 construction
  circle A5 centre (-14.3, 20.66) radius 2.475 construction
  circle A6 centre (14.3, 20.66) radius 2.475 construction
  circle A7 centre (-20.66, 14.3) radius 2.475 construction
  circle A8 centre (-14.3, -20.66) radius 2.475 construction
  circle A9 centre (20.66, -14.3) radius 2.475 construction
  arc A10 (-8.8, -18.96) -> (-8.8, -22.36) centre (-8.8, -20.66) ccw construction
  line L0 (-8.8, -18.96) -> (8.8, -18.96) construction
  arc A11 (8.8, -22.36) -> (8.8, -18.96) centre (8.8, -20.66) ccw construction
  line L1 (8.8, -22.36) -> (-8.8, -22.36) construction
  arc A12 (-8.8, 22.36) -> (-8.8, 18.96) centre (-8.8, 20.66) ccw construction
  line L2 (-8.8, 22.36) -> (8.8, 22.36) construction
  arc A13 (8.8, 18.96) -> (8.8, 22.36) centre (8.8, 20.66) ccw construction
  line L3 (8.8, 18.96) -> (-8.8, 18.96) construction
  arc A14 (-18.96, 8.8) -> (-22.36, 8.8) centre (-20.66, 8.8) ccw construction
  line L4 (-18.96, 8.8) -> (-18.96, -8.8) construction
  arc A15 (-22.36, -8.8) -> (-18.96, -8.8) centre (-20.66, -8.8) ccw construction
  line L5 (-22.36, -8.8) -> (-22.36, 8.8) construction
  arc A16 (18.96, -8.8) -> (22.36, -8.8) centre (20.66, -8.8) ccw construction
  line L6 (18.96, -8.8) -> (18.96, 8.8) construction
  arc A17 (22.36, 8.8) -> (18.96, 8.8) centre (20.66, 8.8) ccw construction
  line L7 (22.36, 8.8) -> (22.36, -8.8) construction
  line L8 (-16.97, -16.97) -> (-16.97, 16.97) construction
  line L9 (-16.97, 16.97) -> (16.97, 16.97) construction
  line L10 (16.97, 16.97) -> (16.97, -16.97) construction
  line L11 (16.97, -16.97) -> (-16.97, -16.97) construction
  circle A18 centre (-21.2, -21.2) radius 2.75 construction
  circle A19 centre (21.2, 21.2) radius 2.75 construction
  arc A20 (-24.35, -22.85) -> (-22.85, -24.35) centre (-22.85, -22.85) ccw construction
  line L12 (22.85, -24.35) -> (-22.85, -24.35) construction
  arc A21 (22.85, -24.35) -> (24.35, -22.85) centre (22.85, -22.85) ccw construction
  line L13 (24.35, 22.85) -> (24.35, -22.85) construction
  arc A22 (24.35, 22.85) -> (22.85, 24.35) centre (22.85, 22.85) ccw construction
  line L14 (-22.85, 24.35) -> (22.85, 24.35) construction
  arc A23 (-22.85, 24.35) -> (-24.35, 22.85) centre (-22.85, 22.85) ccw construction
  line L15 (-24.35, -22.85) -> (-24.35, 22.85) construction
  line L16 (22.0219, -24.2672) -> (18.9546, -23.4454)
  line L17 (18.9546, -23.4454) -> (18.1328, -20.3781)
  line L18 (18.1328, -20.3781) -> (20.3781, -18.1328)
  line L19 (20.3781, -18.1328) -> (23.4454, -18.9546)
  line L20 (23.4454, -18.9546) -> (24.2672, -22.0219)
  line L21 (24.2672, -22.0219) -> (22.0219, -24.2672)
  line L22 (21.2, 21.2) -> (-21.2, -21.2) construction
  circle A24 centre (21.2, -21.2) radius 1.55 construction
  line L23 (-21.2, 21.2) -> (21.2, -21.2) construction
  line L24 (-24.2672, 22.0219) -> (-23.4454, 18.9546)
  line L25 (-23.4454, 18.9546) -> (-20.3781, 18.1328)
  line L26 (-20.3781, 18.1328) -> (-18.1328, 20.3781)
  line L27 (-18.1328, 20.3781) -> (-18.9546, 23.4454)
  line L28 (-18.9546, 23.4454) -> (-22.0219, 24.2672)
  line L29 (-22.0219, 24.2672) -> (-24.2672, 22.0219)
  point P0 (0, 0)
  dimension "d160" = 5.5
  dimension "d161" = 90
extrude "Extrusion11" cut sketch "Sketch22" against normal up to surface (3.2 mm away)
ref_plane "Work Plane4" through (-24.85, 24.85, 8) normal (-0.7071, -0.7071, 0) x (0, 0, 1)
sketch "Sketch23" plane through (-24.85, 24.85, 8) normal (-0.7071, -0.7071, 0) x (0, 0, 1)
  circle A0 centre (17.053, -35.1432) radius 15
  point P0 (-8, -35.1432)
  dimension "d184" = 30
ref_plane "Work Plane5" through (-16.97, 25.05, 42.1) normal (0, 1, 0) x (1, 0, 0)
ref_plane "Arbeitsebene7" through (-1.89, -1.89, 42.1) normal (0.7071, -0.7071, 0) x (-0.7071, -0.7071, 0)
equation "\"d96\" = d_1"
equation "\"d97\" = d_1"
equation "\"d98\" = d_1"
equation "\"d99\" = d_1"
equation "\"d100\" = d_1"
equation "\"d101\" = d_1"
equation "\"d102\" = d_1"
properties part number "20_Cube_Insert_Laser_Decentered_Galvo_lid"
